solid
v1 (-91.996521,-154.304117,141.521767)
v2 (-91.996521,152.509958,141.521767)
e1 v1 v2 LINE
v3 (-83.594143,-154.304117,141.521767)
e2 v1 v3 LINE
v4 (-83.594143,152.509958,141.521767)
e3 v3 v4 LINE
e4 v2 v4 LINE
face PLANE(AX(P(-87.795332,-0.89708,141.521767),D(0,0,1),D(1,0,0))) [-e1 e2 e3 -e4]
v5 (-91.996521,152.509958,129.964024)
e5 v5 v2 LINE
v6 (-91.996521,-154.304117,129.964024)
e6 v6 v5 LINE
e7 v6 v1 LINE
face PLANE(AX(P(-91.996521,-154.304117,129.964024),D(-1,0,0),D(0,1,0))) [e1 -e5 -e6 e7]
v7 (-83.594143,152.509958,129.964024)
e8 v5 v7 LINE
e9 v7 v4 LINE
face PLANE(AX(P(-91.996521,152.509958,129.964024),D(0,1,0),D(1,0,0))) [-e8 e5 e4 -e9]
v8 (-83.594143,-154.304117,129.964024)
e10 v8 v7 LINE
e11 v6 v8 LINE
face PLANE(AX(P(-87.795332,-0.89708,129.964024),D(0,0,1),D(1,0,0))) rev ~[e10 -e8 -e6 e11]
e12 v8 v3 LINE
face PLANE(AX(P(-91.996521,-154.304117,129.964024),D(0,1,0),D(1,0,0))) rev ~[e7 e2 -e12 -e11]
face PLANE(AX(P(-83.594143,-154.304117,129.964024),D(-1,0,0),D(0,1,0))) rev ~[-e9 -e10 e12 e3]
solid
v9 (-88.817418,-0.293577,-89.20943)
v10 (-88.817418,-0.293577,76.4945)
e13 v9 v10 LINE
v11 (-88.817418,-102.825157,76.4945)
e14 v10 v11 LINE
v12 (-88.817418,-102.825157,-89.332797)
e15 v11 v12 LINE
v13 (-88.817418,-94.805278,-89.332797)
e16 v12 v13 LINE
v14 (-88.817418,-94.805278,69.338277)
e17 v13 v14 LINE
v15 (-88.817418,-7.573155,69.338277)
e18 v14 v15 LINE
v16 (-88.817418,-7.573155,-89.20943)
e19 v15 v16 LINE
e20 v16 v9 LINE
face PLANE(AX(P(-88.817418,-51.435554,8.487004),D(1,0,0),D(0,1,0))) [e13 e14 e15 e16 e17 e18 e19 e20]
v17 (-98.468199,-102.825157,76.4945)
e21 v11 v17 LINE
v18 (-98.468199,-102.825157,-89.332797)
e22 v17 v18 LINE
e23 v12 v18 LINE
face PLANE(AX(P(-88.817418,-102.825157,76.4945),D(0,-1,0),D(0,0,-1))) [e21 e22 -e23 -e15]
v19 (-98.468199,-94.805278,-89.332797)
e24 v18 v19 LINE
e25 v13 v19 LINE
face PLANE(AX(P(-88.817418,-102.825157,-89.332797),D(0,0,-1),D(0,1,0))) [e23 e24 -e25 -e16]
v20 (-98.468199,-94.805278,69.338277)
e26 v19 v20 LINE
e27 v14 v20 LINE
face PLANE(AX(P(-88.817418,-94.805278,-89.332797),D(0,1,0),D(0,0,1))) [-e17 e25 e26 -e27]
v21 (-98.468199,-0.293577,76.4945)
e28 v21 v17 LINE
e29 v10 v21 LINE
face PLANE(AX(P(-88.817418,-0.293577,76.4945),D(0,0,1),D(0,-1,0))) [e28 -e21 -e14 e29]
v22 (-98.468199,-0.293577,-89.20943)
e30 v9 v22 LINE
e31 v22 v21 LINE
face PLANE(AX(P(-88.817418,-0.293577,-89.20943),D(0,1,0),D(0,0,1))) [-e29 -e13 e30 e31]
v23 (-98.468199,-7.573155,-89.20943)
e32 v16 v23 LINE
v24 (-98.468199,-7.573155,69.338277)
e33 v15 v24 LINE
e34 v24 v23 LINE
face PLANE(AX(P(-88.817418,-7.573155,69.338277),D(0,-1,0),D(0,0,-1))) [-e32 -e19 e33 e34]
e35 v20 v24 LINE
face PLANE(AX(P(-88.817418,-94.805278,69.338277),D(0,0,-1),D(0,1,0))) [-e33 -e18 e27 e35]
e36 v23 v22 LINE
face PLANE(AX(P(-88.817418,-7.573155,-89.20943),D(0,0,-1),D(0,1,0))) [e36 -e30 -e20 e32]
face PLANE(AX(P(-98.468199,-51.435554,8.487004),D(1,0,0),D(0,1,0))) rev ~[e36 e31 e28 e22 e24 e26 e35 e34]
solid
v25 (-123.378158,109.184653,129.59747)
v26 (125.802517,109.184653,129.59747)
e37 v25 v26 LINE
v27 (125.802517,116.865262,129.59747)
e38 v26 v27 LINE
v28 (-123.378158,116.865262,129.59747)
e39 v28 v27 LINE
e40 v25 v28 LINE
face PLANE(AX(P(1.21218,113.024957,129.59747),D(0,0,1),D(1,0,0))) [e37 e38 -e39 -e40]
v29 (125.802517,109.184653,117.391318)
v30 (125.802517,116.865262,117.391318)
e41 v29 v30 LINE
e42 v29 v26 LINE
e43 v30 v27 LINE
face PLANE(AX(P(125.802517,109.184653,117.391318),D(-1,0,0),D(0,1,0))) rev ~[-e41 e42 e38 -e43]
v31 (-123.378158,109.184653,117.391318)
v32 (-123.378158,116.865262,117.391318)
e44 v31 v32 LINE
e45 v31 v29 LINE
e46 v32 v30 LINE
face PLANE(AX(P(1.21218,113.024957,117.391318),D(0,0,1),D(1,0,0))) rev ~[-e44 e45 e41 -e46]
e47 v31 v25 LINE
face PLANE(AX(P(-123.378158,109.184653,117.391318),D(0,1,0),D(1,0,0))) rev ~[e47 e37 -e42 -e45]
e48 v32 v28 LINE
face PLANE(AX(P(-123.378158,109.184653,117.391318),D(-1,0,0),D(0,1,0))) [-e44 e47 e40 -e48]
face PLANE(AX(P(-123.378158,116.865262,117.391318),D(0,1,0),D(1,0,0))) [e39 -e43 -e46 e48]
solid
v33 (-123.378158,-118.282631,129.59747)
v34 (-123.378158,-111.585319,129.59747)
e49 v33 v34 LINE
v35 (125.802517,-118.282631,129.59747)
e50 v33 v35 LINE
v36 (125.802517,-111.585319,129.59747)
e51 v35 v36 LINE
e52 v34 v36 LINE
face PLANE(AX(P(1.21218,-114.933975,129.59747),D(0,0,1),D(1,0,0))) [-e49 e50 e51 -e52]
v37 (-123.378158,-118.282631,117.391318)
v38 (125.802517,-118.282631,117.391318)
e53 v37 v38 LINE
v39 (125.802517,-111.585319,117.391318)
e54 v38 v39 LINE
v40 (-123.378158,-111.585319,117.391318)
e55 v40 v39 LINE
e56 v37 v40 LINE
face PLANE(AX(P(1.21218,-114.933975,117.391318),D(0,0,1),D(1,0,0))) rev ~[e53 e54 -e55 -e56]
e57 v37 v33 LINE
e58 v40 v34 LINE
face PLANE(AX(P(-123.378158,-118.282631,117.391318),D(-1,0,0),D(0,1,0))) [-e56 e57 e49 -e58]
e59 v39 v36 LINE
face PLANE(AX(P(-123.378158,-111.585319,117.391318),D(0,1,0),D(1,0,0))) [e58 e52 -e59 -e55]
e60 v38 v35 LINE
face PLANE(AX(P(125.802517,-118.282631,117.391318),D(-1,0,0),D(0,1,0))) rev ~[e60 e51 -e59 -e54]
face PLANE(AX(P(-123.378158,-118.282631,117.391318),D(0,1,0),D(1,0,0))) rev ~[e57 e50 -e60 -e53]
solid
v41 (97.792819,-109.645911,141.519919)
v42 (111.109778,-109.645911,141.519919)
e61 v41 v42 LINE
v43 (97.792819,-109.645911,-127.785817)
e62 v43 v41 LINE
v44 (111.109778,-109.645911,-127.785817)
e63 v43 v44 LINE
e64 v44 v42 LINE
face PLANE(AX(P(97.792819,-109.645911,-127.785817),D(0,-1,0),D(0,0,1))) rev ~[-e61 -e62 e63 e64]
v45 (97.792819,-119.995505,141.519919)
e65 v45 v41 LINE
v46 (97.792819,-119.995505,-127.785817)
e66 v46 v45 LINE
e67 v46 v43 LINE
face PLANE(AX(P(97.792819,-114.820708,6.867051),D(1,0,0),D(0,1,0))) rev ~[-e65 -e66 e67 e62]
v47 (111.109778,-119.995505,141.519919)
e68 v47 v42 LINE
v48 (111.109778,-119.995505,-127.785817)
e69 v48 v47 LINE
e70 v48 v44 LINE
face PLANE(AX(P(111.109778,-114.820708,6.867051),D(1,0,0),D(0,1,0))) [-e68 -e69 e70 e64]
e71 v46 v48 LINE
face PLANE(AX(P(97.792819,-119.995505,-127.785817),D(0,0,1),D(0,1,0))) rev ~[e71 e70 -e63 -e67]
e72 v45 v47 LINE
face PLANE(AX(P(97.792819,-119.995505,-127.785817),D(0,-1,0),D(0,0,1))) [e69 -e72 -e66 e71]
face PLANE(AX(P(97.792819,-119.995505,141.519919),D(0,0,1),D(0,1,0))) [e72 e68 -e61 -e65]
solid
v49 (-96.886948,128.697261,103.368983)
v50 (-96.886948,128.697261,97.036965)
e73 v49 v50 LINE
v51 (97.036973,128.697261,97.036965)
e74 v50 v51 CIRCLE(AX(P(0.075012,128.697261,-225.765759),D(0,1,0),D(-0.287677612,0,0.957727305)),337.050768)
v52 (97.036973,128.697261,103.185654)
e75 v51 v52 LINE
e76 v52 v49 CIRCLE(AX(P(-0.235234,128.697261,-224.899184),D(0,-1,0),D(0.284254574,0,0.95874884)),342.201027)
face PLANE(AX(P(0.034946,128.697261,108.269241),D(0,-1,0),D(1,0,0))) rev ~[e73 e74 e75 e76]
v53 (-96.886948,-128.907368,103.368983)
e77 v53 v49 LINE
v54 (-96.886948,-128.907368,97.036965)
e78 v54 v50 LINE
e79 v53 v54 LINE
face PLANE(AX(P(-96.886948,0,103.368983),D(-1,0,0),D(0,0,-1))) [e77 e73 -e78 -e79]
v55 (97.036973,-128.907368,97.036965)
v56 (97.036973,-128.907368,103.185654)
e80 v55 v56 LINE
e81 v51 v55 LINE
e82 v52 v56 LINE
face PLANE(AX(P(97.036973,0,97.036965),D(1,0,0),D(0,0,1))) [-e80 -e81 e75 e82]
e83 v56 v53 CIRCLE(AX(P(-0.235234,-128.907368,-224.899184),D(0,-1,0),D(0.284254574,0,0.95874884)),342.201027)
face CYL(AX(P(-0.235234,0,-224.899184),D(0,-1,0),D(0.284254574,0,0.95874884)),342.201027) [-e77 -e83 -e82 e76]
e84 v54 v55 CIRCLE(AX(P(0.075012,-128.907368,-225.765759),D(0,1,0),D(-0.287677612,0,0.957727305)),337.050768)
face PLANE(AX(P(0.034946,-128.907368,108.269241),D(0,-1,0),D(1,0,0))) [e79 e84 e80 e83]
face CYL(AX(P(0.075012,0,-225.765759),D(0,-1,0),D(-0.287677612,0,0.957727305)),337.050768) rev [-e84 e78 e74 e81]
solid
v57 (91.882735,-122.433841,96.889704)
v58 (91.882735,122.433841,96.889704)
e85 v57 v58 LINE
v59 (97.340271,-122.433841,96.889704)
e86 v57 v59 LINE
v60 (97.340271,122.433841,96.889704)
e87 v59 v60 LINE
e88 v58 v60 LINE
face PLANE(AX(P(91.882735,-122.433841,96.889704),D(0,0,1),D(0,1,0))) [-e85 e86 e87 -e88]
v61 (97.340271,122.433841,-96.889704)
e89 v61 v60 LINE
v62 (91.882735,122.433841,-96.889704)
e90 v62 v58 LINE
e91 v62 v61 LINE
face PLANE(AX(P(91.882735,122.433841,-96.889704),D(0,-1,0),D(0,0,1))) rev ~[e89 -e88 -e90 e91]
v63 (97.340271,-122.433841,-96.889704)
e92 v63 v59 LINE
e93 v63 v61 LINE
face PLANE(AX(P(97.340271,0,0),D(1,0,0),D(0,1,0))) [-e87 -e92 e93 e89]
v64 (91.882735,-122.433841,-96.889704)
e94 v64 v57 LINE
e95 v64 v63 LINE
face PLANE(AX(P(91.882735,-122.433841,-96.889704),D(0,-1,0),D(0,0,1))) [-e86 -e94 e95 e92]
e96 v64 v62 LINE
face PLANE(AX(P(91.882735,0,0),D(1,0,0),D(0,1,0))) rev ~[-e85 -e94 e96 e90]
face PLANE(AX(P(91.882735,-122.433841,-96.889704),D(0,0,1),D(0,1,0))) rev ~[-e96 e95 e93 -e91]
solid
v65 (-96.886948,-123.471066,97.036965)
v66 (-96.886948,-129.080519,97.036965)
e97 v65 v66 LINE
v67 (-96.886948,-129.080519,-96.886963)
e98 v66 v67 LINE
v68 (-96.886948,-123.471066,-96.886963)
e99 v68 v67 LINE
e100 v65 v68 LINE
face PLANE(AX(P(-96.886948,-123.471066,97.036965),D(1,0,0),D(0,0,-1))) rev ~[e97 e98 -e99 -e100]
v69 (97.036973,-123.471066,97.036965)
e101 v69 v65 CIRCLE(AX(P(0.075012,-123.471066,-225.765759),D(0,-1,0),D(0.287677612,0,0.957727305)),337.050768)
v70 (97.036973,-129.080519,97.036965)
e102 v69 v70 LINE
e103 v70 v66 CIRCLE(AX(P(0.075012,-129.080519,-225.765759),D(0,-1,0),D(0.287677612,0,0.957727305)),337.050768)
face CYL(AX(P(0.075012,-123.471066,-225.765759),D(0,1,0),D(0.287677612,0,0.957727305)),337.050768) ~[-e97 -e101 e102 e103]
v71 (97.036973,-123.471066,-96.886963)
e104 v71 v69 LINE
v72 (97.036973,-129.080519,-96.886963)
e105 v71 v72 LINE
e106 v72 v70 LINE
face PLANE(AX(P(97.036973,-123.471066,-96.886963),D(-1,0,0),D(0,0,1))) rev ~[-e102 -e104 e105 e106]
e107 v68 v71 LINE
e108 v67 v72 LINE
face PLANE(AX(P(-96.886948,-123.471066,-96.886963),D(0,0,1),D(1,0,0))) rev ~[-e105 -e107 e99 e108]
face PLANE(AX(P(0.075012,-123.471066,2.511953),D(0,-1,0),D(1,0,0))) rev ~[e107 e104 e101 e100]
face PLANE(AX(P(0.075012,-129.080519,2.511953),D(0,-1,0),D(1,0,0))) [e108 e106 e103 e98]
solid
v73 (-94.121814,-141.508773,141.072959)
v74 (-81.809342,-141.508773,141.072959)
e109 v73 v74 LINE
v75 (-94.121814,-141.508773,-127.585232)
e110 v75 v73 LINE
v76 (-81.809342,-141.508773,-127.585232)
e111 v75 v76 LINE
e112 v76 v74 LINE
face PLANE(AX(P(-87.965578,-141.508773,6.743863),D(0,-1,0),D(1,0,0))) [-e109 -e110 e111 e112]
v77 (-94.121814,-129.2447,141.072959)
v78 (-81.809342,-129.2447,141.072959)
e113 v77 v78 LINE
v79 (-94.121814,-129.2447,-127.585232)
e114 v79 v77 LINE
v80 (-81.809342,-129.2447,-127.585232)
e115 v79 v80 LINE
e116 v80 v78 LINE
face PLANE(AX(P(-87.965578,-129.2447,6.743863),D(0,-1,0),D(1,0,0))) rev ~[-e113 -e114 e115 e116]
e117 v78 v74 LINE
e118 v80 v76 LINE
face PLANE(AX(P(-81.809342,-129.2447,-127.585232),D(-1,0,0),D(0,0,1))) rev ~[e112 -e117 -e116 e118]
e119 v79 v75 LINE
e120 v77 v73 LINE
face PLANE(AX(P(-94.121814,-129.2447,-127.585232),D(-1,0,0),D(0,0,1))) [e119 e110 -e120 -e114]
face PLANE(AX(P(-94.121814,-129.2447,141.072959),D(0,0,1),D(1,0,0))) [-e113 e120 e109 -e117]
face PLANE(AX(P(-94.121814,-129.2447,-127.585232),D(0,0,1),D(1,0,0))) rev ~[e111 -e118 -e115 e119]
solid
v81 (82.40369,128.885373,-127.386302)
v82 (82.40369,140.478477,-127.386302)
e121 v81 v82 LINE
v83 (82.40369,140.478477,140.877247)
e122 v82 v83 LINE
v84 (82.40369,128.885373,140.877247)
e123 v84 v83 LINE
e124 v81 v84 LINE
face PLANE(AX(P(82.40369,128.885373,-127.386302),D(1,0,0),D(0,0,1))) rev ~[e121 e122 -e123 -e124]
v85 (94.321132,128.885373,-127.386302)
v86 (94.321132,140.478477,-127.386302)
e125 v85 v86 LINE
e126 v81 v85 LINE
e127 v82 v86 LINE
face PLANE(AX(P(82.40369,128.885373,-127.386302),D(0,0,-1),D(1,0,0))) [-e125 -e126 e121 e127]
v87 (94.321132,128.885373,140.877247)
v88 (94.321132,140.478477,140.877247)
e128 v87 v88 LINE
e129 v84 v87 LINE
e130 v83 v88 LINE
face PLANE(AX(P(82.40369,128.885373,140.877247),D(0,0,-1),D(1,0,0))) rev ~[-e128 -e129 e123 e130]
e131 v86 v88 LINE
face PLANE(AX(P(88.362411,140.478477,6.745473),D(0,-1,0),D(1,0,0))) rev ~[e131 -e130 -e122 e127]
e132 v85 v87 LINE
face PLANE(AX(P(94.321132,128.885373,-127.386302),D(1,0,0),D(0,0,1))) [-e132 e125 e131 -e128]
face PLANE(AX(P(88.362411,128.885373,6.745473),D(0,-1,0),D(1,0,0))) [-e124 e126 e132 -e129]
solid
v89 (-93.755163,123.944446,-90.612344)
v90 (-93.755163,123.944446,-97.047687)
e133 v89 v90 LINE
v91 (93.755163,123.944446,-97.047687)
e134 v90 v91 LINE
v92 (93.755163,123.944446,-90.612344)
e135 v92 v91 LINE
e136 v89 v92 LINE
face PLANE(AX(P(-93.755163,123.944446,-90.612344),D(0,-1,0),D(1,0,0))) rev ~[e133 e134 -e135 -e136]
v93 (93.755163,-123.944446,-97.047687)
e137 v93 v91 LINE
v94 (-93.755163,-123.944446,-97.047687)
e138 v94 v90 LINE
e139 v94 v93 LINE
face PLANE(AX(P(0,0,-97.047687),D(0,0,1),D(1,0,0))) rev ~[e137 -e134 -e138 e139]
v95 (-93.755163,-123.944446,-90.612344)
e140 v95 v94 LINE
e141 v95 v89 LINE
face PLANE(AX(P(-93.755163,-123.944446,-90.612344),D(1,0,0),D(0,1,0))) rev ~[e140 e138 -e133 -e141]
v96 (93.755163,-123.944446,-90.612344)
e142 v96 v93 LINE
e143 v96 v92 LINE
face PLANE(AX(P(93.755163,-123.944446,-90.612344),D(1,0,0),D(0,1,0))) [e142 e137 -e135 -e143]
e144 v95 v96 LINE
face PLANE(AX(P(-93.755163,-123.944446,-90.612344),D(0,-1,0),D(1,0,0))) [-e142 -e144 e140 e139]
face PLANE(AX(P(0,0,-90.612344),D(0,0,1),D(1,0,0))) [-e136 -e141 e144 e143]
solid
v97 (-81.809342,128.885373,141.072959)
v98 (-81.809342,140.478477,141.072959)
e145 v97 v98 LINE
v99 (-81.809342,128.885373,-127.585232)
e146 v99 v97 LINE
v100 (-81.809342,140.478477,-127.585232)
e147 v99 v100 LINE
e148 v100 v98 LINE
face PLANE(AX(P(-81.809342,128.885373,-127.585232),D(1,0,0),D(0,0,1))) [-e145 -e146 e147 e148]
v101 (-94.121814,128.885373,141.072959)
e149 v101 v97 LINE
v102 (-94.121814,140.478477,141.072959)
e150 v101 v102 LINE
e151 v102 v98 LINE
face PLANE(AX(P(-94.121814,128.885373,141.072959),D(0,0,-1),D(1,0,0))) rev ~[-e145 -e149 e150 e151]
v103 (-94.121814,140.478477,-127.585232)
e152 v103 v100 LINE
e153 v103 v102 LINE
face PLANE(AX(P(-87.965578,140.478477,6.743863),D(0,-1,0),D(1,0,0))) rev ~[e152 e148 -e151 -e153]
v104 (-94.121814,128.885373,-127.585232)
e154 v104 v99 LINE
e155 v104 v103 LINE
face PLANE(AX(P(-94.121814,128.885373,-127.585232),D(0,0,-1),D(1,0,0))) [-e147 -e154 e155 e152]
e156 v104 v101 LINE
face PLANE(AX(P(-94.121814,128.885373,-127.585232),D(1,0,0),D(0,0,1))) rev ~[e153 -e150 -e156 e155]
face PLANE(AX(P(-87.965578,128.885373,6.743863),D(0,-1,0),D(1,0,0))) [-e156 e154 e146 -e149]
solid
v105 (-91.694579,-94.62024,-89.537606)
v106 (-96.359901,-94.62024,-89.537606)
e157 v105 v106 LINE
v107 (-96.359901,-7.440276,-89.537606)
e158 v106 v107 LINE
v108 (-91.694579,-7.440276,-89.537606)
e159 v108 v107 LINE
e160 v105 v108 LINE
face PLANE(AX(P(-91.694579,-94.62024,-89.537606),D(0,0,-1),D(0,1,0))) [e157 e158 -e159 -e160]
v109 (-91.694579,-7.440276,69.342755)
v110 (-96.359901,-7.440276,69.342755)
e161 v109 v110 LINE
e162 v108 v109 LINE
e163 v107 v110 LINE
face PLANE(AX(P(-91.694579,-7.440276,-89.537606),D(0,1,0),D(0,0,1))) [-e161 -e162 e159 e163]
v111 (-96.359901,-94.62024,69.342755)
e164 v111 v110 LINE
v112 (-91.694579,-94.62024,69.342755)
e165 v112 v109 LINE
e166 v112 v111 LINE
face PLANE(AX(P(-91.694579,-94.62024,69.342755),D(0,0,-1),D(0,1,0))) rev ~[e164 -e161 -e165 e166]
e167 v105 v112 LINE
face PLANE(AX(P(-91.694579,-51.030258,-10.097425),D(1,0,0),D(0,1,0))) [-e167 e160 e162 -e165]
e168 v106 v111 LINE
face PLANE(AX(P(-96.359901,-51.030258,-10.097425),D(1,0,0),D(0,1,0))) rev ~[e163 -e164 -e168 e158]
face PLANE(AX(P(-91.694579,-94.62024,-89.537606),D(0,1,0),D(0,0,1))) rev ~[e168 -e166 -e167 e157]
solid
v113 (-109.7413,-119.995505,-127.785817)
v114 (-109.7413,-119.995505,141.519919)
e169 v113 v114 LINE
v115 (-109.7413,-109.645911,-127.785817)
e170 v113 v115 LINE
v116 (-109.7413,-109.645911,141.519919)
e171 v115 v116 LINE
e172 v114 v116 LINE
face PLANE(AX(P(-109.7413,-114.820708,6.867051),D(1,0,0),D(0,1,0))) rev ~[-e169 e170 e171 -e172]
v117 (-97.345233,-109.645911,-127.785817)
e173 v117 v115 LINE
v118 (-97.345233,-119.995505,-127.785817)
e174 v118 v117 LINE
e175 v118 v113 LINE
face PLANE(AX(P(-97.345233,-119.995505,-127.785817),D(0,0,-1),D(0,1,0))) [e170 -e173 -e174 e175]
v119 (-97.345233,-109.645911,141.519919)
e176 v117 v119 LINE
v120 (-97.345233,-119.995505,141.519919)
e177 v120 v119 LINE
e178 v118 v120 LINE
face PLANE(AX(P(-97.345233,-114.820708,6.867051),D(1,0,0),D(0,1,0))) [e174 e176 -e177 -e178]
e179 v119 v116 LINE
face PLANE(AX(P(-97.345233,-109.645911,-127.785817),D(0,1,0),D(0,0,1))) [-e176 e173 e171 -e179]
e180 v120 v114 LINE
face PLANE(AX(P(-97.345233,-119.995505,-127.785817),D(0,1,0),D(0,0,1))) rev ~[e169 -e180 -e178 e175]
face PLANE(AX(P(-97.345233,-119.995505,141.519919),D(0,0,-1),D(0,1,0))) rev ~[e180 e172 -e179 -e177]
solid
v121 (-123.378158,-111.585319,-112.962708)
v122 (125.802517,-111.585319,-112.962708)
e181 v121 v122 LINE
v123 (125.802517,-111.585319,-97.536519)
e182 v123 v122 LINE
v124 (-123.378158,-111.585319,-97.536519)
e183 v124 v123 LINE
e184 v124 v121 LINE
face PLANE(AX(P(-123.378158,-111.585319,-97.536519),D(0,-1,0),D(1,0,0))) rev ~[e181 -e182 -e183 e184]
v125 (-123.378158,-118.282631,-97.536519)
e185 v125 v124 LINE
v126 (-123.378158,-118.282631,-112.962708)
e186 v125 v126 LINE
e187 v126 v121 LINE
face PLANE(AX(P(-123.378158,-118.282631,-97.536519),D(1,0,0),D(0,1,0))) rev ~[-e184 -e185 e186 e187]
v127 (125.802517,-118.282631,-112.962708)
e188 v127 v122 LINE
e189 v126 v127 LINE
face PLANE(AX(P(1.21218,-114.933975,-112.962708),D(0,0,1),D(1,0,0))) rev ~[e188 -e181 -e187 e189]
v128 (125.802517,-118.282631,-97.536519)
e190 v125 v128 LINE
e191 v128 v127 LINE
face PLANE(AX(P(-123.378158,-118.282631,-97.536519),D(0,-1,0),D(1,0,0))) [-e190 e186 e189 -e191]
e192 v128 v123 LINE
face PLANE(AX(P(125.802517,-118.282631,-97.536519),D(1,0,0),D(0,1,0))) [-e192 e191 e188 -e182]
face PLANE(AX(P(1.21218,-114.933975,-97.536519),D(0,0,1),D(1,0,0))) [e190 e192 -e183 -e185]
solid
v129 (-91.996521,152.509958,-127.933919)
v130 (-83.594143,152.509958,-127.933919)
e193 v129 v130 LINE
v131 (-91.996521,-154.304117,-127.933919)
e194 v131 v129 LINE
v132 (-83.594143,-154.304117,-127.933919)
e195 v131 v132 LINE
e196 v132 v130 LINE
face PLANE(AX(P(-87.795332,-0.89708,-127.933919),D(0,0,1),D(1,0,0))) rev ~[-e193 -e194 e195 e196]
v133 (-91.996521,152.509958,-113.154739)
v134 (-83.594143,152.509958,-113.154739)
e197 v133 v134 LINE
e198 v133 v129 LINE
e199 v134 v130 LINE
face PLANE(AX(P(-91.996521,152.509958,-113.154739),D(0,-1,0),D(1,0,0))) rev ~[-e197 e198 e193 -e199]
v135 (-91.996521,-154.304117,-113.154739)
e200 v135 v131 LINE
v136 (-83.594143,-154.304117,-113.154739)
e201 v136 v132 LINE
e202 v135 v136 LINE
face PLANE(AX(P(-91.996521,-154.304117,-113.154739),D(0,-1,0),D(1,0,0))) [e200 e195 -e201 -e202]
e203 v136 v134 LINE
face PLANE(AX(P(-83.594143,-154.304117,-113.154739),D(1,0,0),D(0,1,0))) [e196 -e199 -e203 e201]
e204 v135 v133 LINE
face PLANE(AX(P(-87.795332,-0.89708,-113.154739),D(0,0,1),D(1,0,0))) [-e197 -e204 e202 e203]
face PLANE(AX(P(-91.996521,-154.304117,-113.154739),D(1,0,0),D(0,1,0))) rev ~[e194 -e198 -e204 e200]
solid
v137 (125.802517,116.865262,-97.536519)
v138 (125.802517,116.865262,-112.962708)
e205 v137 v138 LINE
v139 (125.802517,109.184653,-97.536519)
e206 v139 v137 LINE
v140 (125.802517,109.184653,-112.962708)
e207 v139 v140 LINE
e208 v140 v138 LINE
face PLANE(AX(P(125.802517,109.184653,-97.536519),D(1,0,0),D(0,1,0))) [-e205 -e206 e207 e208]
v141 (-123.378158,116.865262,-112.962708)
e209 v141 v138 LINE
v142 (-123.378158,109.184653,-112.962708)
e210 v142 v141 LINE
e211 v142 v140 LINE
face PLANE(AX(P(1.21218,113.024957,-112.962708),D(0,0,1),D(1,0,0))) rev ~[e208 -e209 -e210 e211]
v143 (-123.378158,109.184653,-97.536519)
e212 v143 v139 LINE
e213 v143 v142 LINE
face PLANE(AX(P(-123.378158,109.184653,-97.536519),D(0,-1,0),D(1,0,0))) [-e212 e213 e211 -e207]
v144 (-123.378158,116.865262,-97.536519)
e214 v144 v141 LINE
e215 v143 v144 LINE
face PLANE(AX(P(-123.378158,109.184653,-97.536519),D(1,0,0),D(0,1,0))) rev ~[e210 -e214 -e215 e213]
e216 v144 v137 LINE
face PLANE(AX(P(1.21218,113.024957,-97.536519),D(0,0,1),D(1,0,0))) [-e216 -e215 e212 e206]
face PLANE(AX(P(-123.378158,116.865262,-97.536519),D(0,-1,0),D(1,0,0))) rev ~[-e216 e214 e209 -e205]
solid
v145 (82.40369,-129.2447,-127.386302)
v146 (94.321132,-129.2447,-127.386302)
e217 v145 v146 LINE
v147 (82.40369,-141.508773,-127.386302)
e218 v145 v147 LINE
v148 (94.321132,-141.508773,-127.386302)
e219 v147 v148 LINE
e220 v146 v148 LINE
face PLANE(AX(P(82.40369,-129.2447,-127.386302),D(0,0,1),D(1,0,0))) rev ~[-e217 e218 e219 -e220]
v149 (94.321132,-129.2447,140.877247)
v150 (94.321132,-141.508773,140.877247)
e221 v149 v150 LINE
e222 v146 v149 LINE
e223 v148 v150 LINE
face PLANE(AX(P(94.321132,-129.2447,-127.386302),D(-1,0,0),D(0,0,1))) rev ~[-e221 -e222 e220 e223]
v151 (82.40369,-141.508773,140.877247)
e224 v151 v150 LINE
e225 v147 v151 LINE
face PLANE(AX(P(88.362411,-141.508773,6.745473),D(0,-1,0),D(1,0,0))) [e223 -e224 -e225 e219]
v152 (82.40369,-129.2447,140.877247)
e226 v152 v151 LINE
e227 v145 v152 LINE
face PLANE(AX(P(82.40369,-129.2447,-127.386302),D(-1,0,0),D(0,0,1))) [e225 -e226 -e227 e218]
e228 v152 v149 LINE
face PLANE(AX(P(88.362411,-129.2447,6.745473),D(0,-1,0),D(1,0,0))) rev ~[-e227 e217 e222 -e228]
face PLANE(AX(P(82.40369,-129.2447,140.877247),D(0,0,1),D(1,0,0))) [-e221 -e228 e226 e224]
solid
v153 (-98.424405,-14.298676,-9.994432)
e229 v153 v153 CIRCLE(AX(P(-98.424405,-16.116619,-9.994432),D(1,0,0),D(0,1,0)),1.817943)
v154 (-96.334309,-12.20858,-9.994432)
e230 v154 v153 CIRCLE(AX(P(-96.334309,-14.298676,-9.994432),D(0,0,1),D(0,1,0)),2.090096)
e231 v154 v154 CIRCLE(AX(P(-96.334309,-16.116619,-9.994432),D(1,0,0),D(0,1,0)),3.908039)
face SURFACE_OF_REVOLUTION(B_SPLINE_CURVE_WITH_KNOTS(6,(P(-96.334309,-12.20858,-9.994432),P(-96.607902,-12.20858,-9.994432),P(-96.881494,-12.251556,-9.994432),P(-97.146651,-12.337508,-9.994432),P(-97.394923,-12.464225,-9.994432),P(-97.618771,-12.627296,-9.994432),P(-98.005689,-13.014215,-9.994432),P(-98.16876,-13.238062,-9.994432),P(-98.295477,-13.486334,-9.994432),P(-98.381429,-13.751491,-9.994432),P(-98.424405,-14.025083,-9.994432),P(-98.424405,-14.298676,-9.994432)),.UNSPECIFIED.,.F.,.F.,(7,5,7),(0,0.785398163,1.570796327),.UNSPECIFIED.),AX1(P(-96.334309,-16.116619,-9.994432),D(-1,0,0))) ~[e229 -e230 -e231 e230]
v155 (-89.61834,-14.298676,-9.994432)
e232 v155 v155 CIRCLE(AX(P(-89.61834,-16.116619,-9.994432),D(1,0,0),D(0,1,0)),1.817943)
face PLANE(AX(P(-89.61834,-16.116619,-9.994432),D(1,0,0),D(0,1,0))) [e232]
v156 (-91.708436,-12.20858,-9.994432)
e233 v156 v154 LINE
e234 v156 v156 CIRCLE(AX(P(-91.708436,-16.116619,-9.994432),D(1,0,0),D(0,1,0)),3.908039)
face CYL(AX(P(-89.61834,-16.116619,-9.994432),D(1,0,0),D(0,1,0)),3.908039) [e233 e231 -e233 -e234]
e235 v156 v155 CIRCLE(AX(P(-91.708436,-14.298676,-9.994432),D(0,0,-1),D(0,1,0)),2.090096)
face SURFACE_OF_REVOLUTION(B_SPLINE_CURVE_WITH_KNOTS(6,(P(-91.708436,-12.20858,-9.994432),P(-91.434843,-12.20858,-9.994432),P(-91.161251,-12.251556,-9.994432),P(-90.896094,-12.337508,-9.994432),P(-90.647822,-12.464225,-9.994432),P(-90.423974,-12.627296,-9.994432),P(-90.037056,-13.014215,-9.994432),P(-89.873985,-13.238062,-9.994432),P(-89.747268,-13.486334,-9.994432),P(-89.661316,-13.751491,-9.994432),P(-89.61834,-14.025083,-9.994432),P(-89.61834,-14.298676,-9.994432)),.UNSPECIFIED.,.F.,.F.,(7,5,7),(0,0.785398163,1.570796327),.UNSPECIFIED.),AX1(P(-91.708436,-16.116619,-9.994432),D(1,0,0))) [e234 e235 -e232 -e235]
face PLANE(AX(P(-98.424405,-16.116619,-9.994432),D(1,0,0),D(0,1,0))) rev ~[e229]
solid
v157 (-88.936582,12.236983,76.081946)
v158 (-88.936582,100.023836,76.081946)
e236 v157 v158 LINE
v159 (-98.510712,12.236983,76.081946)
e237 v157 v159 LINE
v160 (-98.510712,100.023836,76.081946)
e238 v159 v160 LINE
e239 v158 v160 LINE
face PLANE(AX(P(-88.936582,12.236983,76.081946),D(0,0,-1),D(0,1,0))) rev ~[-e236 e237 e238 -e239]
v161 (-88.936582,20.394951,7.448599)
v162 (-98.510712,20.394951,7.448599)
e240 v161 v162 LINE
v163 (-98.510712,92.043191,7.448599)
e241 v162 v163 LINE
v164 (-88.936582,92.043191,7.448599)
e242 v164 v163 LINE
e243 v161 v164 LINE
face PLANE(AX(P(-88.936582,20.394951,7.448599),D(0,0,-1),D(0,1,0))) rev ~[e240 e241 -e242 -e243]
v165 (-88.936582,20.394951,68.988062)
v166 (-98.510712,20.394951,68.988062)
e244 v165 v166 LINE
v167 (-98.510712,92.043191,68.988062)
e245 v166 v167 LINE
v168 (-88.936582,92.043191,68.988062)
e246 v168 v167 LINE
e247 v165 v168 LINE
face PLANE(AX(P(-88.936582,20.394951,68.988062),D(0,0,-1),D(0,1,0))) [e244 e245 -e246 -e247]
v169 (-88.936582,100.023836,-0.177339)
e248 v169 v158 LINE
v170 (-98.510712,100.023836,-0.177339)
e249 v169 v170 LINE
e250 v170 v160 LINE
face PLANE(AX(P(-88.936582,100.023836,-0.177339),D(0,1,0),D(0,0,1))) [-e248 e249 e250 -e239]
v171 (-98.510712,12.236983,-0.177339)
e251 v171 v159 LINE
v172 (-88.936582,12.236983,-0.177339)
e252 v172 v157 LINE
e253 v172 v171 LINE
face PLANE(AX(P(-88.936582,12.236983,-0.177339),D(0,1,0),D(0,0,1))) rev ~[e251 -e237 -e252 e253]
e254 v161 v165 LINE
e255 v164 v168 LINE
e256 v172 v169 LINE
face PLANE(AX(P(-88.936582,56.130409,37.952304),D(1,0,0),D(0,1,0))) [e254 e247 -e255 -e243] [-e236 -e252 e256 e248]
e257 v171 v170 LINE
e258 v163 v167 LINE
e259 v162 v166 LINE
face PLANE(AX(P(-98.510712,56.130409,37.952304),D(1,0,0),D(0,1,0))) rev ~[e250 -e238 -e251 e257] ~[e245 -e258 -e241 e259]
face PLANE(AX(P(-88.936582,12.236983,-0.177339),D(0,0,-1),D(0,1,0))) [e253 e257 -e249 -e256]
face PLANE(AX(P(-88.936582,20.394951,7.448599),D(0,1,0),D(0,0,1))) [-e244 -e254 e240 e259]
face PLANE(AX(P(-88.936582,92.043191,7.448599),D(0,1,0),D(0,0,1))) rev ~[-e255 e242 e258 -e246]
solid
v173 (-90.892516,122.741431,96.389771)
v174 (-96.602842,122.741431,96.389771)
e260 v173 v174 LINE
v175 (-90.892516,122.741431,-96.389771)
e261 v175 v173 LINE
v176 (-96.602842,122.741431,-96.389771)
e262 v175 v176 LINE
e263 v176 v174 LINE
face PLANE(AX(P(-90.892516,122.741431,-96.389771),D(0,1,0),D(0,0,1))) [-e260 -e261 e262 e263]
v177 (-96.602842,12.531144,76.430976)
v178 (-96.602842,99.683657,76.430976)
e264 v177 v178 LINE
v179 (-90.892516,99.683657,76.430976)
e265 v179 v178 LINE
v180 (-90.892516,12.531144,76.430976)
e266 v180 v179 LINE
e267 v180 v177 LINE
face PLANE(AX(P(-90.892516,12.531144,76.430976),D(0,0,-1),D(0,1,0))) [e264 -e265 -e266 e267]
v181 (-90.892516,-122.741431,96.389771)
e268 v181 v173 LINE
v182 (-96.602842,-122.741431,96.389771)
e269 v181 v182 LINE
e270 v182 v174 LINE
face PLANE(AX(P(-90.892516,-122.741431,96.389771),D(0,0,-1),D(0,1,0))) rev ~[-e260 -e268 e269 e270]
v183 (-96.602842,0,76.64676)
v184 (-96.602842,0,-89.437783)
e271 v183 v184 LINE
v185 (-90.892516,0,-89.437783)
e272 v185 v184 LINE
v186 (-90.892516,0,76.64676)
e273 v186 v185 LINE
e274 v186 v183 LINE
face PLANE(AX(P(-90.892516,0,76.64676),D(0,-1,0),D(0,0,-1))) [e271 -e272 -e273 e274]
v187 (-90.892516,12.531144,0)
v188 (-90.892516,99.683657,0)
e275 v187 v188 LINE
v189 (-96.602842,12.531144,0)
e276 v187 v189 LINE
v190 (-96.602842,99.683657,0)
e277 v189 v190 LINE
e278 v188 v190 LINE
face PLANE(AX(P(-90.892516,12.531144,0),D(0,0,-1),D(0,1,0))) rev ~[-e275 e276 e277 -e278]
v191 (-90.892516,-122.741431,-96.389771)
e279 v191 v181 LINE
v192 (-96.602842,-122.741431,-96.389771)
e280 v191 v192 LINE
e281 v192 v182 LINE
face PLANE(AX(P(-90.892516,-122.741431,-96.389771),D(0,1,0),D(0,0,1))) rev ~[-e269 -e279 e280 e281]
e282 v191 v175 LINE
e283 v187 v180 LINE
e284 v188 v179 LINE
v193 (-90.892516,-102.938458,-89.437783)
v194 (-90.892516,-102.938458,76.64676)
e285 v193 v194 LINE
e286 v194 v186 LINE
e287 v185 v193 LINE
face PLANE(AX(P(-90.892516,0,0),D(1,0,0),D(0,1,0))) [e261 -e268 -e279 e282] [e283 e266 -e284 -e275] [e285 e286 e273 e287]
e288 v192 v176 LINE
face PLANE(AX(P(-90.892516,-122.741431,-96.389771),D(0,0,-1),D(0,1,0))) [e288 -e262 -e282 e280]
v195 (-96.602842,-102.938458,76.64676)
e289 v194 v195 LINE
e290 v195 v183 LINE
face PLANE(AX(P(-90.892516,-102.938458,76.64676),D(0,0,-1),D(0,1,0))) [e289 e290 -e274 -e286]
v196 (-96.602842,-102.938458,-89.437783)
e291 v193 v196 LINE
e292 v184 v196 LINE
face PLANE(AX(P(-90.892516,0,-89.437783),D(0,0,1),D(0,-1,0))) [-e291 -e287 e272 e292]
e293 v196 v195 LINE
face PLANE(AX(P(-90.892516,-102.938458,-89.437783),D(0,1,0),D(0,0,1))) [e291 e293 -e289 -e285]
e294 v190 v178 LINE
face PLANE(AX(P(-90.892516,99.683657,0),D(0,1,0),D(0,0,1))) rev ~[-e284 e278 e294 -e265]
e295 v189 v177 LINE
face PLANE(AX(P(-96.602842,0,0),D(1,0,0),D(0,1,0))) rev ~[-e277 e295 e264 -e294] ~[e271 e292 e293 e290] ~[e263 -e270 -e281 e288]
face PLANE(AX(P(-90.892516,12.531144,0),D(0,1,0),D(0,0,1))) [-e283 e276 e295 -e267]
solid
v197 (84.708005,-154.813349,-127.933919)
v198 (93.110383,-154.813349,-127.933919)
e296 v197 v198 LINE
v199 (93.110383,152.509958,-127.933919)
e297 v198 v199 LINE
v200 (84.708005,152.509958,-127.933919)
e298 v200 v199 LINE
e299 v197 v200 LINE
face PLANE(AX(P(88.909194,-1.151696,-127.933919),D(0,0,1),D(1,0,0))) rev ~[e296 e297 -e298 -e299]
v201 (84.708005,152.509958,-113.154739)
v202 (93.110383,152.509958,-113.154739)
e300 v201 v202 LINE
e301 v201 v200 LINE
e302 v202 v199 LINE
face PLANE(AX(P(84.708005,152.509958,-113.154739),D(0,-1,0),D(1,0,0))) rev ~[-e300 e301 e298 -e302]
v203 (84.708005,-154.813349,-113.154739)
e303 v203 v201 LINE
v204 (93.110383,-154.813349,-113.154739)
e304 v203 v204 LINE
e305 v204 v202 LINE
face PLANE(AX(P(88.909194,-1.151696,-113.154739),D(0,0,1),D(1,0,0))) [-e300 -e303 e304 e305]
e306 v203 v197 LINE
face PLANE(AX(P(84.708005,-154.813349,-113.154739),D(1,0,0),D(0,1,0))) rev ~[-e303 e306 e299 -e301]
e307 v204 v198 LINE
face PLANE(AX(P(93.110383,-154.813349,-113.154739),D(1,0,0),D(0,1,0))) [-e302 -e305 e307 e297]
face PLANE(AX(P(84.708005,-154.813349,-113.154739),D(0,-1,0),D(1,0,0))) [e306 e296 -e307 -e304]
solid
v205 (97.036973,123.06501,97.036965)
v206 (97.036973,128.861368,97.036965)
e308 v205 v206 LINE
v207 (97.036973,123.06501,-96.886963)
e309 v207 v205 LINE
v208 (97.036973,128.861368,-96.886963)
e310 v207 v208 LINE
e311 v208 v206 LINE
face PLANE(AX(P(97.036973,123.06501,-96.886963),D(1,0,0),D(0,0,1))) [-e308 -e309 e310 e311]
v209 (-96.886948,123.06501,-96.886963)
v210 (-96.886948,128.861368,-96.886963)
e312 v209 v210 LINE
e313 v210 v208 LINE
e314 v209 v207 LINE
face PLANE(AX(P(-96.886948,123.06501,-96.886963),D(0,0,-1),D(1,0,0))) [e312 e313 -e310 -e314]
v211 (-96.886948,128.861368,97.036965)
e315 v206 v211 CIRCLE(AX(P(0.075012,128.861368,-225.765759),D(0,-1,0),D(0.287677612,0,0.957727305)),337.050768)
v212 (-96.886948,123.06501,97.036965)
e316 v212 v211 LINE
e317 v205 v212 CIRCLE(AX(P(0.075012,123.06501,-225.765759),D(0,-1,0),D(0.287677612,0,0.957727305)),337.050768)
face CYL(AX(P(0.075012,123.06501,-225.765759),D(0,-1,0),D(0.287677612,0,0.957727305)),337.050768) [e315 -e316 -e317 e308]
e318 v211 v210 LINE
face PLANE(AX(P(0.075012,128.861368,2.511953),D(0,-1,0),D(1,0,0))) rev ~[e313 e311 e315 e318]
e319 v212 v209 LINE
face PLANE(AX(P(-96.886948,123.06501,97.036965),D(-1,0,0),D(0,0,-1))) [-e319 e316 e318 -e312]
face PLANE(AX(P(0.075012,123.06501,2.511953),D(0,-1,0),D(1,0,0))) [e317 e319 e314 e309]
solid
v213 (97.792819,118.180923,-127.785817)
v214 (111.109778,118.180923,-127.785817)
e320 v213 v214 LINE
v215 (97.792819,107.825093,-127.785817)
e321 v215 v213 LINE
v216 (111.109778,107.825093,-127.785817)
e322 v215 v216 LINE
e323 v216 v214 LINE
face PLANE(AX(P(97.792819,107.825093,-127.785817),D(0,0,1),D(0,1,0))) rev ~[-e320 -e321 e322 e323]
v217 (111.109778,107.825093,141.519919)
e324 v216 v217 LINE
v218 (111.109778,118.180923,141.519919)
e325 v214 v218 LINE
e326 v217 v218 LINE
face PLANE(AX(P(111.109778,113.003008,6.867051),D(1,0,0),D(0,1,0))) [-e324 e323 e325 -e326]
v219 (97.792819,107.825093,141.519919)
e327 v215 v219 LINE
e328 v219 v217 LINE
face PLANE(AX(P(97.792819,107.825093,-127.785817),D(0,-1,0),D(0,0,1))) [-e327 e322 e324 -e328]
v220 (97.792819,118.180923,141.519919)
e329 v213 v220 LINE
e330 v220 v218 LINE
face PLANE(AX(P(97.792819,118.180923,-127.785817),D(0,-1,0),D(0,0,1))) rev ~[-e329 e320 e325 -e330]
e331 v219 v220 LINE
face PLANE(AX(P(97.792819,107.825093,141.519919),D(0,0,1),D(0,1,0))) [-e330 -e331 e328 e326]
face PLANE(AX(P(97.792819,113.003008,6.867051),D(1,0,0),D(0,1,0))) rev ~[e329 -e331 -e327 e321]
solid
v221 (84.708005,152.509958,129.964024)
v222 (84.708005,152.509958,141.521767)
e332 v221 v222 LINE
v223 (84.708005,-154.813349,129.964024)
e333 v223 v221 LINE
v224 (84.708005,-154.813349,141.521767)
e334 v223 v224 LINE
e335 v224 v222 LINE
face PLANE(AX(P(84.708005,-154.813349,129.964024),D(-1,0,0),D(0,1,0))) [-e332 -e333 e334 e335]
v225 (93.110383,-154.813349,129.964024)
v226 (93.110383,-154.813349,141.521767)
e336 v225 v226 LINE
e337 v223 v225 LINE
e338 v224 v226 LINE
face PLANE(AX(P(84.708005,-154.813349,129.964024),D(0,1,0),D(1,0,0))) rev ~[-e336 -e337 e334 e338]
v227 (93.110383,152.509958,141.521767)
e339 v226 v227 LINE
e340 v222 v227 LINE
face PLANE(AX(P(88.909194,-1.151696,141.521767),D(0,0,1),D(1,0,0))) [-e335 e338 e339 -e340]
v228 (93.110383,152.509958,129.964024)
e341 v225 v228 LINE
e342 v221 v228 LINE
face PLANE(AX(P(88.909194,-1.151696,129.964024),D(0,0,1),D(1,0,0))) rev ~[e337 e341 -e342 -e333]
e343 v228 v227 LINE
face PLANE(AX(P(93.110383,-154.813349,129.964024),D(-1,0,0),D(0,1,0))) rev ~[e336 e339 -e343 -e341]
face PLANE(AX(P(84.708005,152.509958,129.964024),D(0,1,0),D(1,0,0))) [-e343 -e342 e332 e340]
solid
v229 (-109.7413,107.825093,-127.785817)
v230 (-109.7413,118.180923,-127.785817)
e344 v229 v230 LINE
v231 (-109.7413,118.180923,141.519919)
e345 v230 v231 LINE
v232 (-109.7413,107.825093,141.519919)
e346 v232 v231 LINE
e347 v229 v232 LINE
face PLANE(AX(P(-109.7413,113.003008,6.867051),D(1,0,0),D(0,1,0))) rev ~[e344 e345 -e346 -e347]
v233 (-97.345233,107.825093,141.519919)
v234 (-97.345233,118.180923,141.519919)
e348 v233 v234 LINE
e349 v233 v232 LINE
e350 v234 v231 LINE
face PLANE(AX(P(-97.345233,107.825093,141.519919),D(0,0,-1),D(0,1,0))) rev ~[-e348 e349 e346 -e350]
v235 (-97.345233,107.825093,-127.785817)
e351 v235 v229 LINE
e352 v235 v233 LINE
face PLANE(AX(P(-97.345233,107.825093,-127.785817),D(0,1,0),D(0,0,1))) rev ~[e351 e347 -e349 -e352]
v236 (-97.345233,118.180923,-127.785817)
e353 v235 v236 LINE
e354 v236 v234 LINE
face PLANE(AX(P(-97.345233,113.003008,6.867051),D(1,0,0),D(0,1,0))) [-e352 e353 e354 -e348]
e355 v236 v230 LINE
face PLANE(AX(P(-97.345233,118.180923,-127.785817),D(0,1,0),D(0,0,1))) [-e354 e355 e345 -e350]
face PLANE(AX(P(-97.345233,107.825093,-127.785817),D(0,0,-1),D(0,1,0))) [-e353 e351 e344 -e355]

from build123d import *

# Parameters (mm, degrees)
F3_START      = -123.0650097132
F3_DEPTH      = 5.7963579893
F5_START      = -90.6123444438
F4_W          = 187.5103265047
F4_H          = 247.888892889
F5_DEPTH      = 6.435342133
F6_DEPTH      = 128.9073675871
F6_DEPTH_BACK = 128.6972612143
F7_START      = 123.4710663557
F7_DEPTH      = 5.6094527245
F9_START      = 91.8827354908
F8_W          = 244.867682457
F8_H          = 193.7794089317
F9_DEPTH      = 5.4575353861
F11_START     = -90.8925160766
F10_W         = 245.4828619957
F10_H         = 192.7795410156
F10_W_2       = 87.1525136754
F10_H_2       = 76.4309763908
F11_DEPTH     = 5.7103261352
F10_W_3       = 72.0724808052
F10_H_3       = 61.7944300175
F12_DEPTH     = 25.4
F15_START     = -88.9365822077
F14_W         = 87.7868533134
F14_H         = 76.2592852116
F14_W_2       = 71.6482400894
F14_H_2       = 61.5394636989
F15_DEPTH     = 9.5741301775
F17_START     = -91.6945785284
F16_W         = 87.1799633379
F16_H         = 158.8803604245
F17_DEPTH     = 4.6653226018
F19_START     = -88.8174176216
F19_DEPTH     = 9.6507817507
F21_START     = -89.6183401346
F20_R         = 3.9080389163
F21_DEPTH     = 8.8060647249
F22_R         = 2.0900958716
F24_START     = 97.7928191423
F23_W         = 10.3558301926
F23_H         = 269.3057358265
F24_DEPTH     = 13.3169591427
F23_W_2       = 10.3495940566
F25_START     = -97.3452329636
F25_DEPTH     = 12.3960673809
F27_START     = -128.8853734732
F26_W         = 11.9174420834
F26_H         = 268.2635486126
F27_DEPTH     = 11.5931034088
F26_W_2       = 12.3124718666
F26_H_2       = 268.6581909657
F28_START     = 129.2447000742
F28_DEPTH     = 12.2640728951
F30_START     = 129.9640238285
F29_W         = 8.402377367
F29_H         = 306.8140745163
F30_DEPTH     = 11.5577429533
F29_H_2       = 307.3233067989
F31_START     = -113.1547391415
F31_DEPTH     = 14.7791802883
F33_START     = -97.5365191698
F32_W         = 249.1806745529
F32_H         = 7.6806098223
F33_DEPTH     = 15.4261887074
F32_H_2       = 6.6973119974
F34_START     = 117.3913180828
F34_DEPTH     = 12.2061520815


with BuildPart() as f3:
    # F0 (on Front) → F3 (new body)
    with BuildSketch(Plane.XZ.offset(F3_START)):
        with BuildLine():
            Line((97.0369726419, -96.8869626522), (97.0369726419, 97.0369651914))
            ThreePointArc((97.0369726419, 97.0369651914), (0.0750124454, 111.2850093867), (-96.886947751, 97.0369651914))
            Line((-96.886947751, 97.0369651914), (-96.886947751, -96.8869626522))
            Line((-96.886947751, -96.8869626522), (97.0369726419, -96.8869626522))
        make_face()
    extrude(amount=-F3_DEPTH)


with BuildPart() as f5:
    # F4 (on Top) → F5 (new body)
    with BuildSketch(Plane.XY.offset(F5_START)):
        Rectangle(F4_W, F4_H)
    extrude(amount=-F5_DEPTH)


with BuildPart() as f6:
    # F0 (on Front) → F6 (new body, two sides)
    with BuildSketch(Plane.XZ) as f6_sk:
        with BuildLine():
            ThreePointArc((-96.886947751, 97.0369651914), (0.0750124454, 111.2850093867), (97.0369726419, 97.0369651914))
            Line((97.0369726419, 97.0369651914), (97.0369726419, 103.1856536865))
            ThreePointArc((97.0369726419, 103.1856536865), (0.0882706031, 117.3016902224), (-96.886947751, 103.3689826727))
            Line((-96.886947751, 103.3689826727), (-96.886947751, 97.0369651914))
        make_face()
    extrude(amount=F6_DEPTH)
    extrude(f6_sk.sketch, amount=-F6_DEPTH_BACK)


with BuildPart() as f7:
    # F2 (on face) → F7 (new body)
    with BuildSketch(Plane.XZ.offset(F7_START)):
        with BuildLine():
            Line((-96.886947751, -96.8869626522), (97.0369726419, -96.8869626522))
            Line((97.0369726419, -96.8869626522), (97.0369726419, 97.0369651914))
            ThreePointArc((97.0369726419, 97.0369651914), (0.0750124454, 111.2850093867), (-96.886947751, 97.0369651914))
            Line((-96.886947751, 97.0369651914), (-96.886947751, -96.8869626522))
        make_face()
    extrude(amount=F7_DEPTH)


with BuildPart() as f9:
    # F8 (on Right) → F9 (new body)
    with BuildSketch(Plane.YZ.offset(F9_START)):
        Rectangle(F8_W, F8_H)
    extrude(amount=F9_DEPTH)


with BuildPart() as f11:
    # F10 (on Right) → F11 (new body)
    with BuildSketch(Plane.YZ.offset(F11_START)):
        Rectangle(F10_W, F10_H)
        Polygon((0, 76.6467601061), (0, 0), (0, -89.4377827644), (-102.9384583235, -89.4377827644), (-102.9384583235, 76.6467601061), align=None, mode=Mode.SUBTRACT)
        with Locations((56.1074004509, 38.2154881954)):
            Rectangle(F10_W_2, F10_H_2, mode=Mode.SUBTRACT)
    extrude(amount=-F11_DEPTH)


with BuildPart() as f12:
    # F10 (on Right) → F12 (new body)
    with BuildSketch(Plane.YZ):
        Rectangle(F10_W, F10_H)
        Polygon((0, 76.6467601061), (0, 0), (0, -89.4377827644), (-102.9384583235, -89.4377827644), (-102.9384583235, 76.6467601061), align=None, mode=Mode.SUBTRACT)
        with Locations((56.1074004509, 38.2154881954)):
            Rectangle(F10_W_2, F10_H_2, mode=Mode.SUBTRACT)
        with Locations((56.1074004509, 38.2154881954)):
            Rectangle(F10_W_2, F10_H_2)
        with Locations((56.1074004509, 38.2154881954)):
            Rectangle(F10_W_3, F10_H_3, mode=Mode.SUBTRACT)
    extrude(amount=F12_DEPTH)


with BuildPart() as f15:
    # F14 (on Right) → F15 (new body)
    with BuildSketch(Plane.YZ.offset(F15_START)):
        with Locations((56.1304092407, 37.9523038864)):
            Rectangle(F14_W, F14_H)
        with Locations((56.2190711498, 38.2183305919)):
            Rectangle(F14_W_2, F14_H_2, mode=Mode.SUBTRACT)
    extrude(amount=-F15_DEPTH)


with BuildPart() as f17:
    # F16 (on Right) → F17 (new body)
    with BuildSketch(Plane.YZ.offset(F17_START)):
        with Locations((-51.0302581129, -10.097425431)):
            Rectangle(F16_W, F16_H)
    extrude(amount=-F17_DEPTH)


with BuildPart() as f19:
    # F18 (on Right) → F19 (new body)
    with BuildSketch(Plane.YZ.offset(F19_START)):
        Polygon((-7.5731552206, -89.2094299197), (-0.29357741, -89.2094299197), (-0.29357741, 76.494500041), (-102.8251573443, 76.494500041), (-102.8251573443, -89.3327966332), (-94.805277884, -89.3327966332), (-94.805277884, 69.3382769823), (-7.5731552206, 69.3382769823), align=None)
    extrude(amount=-F19_DEPTH)


with BuildPart() as f21:
    # F20 (on Right) → F21 (new body)
    with BuildSketch(Plane.YZ.offset(F21_START)):
        with Locations((-16.1166191101, -9.9944323301)):
            Circle(F20_R)
    extrude(amount=-F21_DEPTH)

    # F22
    f22_edges = [f21.edges().sort_by_distance(p)[0] for p in [
        (-94.021372, -12.20858, -9.994432),
        (-89.61834, -20.024658, -9.994432),
        (-98.424405, -20.024658, -9.994432),
    ]]
    fillet(f22_edges, radius=F22_R)


with BuildPart() as f24:
    # F23 (on Right) → F24 (new body)
    with BuildSketch(Plane.YZ.offset(F24_START)):
        with Locations((113.0030080676, 6.8670511246)):
            Rectangle(F23_W, F23_H)
    extrude(amount=F24_DEPTH)


with BuildPart() as f24b:
    # F23 (on Right) → F24, piece 2 (new body)
    with BuildSketch(Plane.YZ.offset(F24_START)):
        with Locations((-114.8207075894, 6.8670511246)):
            Rectangle(F23_W_2, F23_H)
    extrude(amount=F24_DEPTH)


with BuildPart() as f25:
    # F23 (on Right) → F25 (new body)
    with BuildSketch(Plane.YZ.offset(F25_START)):
        with Locations((-114.8207075894, 6.8670511246)):
            Rectangle(F23_W_2, F23_H)
    extrude(amount=-F25_DEPTH)


with BuildPart() as f25b:
    # F23 (on Right) → F25, piece 2 (new body)
    with BuildSketch(Plane.YZ.offset(F25_START)):
        with Locations((113.0030080676, 6.8670511246)):
            Rectangle(F23_W, F23_H)
    extrude(amount=-F25_DEPTH)


with BuildPart() as f27:
    # F26 (on Front) → F27 (new body)
    with BuildSketch(Plane.XZ.offset(F27_START)):
        with Locations((88.3624106646, 6.7454725504)):
            Rectangle(F26_W, F26_H)
    extrude(amount=-F27_DEPTH)


with BuildPart() as f27b:
    # F26 (on Front) → F27, piece 2 (new body)
    with BuildSketch(Plane.XZ.offset(F27_START)):
        with Locations((-87.9655778408, 6.743863225)):
            Rectangle(F26_W_2, F26_H_2)
    extrude(amount=-F27_DEPTH)


with BuildPart() as f28:
    # F26 (on Front) → F28 (new body)
    with BuildSketch(Plane.XZ.offset(F28_START)):
        with Locations((-87.9655778408, 6.743863225)):
            Rectangle(F26_W_2, F26_H_2)
    extrude(amount=F28_DEPTH)


with BuildPart() as f28b:
    # F26 (on Front) → F28, piece 2 (new body)
    with BuildSketch(Plane.XZ.offset(F28_START)):
        with Locations((88.3624106646, 6.7454725504)):
            Rectangle(F26_W, F26_H)
    extrude(amount=F28_DEPTH)


with BuildPart() as f30:
    # F29 (on Top) → F30 (new body)
    with BuildSketch(Plane.XY.offset(F30_START)):
        with Locations((-87.7953320742, -0.8970797062)):
            Rectangle(F29_W, F29_H)
    extrude(amount=F30_DEPTH)


with BuildPart() as f30b:
    # F29 (on Top) → F30, piece 2 (new body)
    with BuildSketch(Plane.XY.offset(F30_START)):
        with Locations((88.9091938734, -1.1516958475)):
            Rectangle(F29_W, F29_H_2)
    extrude(amount=F30_DEPTH)


with BuildPart() as f31:
    # F29 (on Top) → F31 (new body)
    with BuildSketch(Plane.XY.offset(F31_START)):
        with Locations((88.9091938734, -1.1516958475)):
            Rectangle(F29_W, F29_H_2)
    extrude(amount=-F31_DEPTH)


with BuildPart() as f31b:
    # F29 (on Top) → F31, piece 2 (new body)
    with BuildSketch(Plane.XY.offset(F31_START)):
        with Locations((-87.7953320742, -0.8970797062)):
            Rectangle(F29_W, F29_H)
    extrude(amount=-F31_DEPTH)


with BuildPart() as f33:
    # F32 (on Top) → F33 (new body)
    with BuildSketch(Plane.XY.offset(F33_START)):
        with Locations((1.2121796608, 113.024957478)):
            Rectangle(F32_W, F32_H)
    extrude(amount=-F33_DEPTH)


with BuildPart() as f33b:
    # F32 (on Top) → F33, piece 2 (new body)
    with BuildSketch(Plane.XY.offset(F33_START)):
        with Locations((1.2121796608, -114.9339750409)):
            Rectangle(F32_W, F32_H_2)
    extrude(amount=-F33_DEPTH)


with BuildPart() as f34:
    # F32 (on Top) → F34 (new body)
    with BuildSketch(Plane.XY.offset(F34_START)):
        with Locations((1.2121796608, 113.024957478)):
            Rectangle(F32_W, F32_H)
    extrude(amount=F34_DEPTH)


with BuildPart() as f34b:
    # F32 (on Top) → F34, piece 2 (new body)
    with BuildSketch(Plane.XY.offset(F34_START)):
        with Locations((1.2121796608, -114.9339750409)):
            Rectangle(F32_W, F32_H_2)
    extrude(amount=F34_DEPTH)


solid = Compound([f3.part, f5.part, f6.part, f7.part, f9.part, f11.part, f15.part, f17.part, f19.part, f21.part, f24.part, f24b.part, f25.part, f25b.part, f27.part, f27b.part, f28.part, f28b.part, f30.part, f30b.part, f31.part, f31b.part, f33.part, f33b.part, f34.part, f34b.part])
